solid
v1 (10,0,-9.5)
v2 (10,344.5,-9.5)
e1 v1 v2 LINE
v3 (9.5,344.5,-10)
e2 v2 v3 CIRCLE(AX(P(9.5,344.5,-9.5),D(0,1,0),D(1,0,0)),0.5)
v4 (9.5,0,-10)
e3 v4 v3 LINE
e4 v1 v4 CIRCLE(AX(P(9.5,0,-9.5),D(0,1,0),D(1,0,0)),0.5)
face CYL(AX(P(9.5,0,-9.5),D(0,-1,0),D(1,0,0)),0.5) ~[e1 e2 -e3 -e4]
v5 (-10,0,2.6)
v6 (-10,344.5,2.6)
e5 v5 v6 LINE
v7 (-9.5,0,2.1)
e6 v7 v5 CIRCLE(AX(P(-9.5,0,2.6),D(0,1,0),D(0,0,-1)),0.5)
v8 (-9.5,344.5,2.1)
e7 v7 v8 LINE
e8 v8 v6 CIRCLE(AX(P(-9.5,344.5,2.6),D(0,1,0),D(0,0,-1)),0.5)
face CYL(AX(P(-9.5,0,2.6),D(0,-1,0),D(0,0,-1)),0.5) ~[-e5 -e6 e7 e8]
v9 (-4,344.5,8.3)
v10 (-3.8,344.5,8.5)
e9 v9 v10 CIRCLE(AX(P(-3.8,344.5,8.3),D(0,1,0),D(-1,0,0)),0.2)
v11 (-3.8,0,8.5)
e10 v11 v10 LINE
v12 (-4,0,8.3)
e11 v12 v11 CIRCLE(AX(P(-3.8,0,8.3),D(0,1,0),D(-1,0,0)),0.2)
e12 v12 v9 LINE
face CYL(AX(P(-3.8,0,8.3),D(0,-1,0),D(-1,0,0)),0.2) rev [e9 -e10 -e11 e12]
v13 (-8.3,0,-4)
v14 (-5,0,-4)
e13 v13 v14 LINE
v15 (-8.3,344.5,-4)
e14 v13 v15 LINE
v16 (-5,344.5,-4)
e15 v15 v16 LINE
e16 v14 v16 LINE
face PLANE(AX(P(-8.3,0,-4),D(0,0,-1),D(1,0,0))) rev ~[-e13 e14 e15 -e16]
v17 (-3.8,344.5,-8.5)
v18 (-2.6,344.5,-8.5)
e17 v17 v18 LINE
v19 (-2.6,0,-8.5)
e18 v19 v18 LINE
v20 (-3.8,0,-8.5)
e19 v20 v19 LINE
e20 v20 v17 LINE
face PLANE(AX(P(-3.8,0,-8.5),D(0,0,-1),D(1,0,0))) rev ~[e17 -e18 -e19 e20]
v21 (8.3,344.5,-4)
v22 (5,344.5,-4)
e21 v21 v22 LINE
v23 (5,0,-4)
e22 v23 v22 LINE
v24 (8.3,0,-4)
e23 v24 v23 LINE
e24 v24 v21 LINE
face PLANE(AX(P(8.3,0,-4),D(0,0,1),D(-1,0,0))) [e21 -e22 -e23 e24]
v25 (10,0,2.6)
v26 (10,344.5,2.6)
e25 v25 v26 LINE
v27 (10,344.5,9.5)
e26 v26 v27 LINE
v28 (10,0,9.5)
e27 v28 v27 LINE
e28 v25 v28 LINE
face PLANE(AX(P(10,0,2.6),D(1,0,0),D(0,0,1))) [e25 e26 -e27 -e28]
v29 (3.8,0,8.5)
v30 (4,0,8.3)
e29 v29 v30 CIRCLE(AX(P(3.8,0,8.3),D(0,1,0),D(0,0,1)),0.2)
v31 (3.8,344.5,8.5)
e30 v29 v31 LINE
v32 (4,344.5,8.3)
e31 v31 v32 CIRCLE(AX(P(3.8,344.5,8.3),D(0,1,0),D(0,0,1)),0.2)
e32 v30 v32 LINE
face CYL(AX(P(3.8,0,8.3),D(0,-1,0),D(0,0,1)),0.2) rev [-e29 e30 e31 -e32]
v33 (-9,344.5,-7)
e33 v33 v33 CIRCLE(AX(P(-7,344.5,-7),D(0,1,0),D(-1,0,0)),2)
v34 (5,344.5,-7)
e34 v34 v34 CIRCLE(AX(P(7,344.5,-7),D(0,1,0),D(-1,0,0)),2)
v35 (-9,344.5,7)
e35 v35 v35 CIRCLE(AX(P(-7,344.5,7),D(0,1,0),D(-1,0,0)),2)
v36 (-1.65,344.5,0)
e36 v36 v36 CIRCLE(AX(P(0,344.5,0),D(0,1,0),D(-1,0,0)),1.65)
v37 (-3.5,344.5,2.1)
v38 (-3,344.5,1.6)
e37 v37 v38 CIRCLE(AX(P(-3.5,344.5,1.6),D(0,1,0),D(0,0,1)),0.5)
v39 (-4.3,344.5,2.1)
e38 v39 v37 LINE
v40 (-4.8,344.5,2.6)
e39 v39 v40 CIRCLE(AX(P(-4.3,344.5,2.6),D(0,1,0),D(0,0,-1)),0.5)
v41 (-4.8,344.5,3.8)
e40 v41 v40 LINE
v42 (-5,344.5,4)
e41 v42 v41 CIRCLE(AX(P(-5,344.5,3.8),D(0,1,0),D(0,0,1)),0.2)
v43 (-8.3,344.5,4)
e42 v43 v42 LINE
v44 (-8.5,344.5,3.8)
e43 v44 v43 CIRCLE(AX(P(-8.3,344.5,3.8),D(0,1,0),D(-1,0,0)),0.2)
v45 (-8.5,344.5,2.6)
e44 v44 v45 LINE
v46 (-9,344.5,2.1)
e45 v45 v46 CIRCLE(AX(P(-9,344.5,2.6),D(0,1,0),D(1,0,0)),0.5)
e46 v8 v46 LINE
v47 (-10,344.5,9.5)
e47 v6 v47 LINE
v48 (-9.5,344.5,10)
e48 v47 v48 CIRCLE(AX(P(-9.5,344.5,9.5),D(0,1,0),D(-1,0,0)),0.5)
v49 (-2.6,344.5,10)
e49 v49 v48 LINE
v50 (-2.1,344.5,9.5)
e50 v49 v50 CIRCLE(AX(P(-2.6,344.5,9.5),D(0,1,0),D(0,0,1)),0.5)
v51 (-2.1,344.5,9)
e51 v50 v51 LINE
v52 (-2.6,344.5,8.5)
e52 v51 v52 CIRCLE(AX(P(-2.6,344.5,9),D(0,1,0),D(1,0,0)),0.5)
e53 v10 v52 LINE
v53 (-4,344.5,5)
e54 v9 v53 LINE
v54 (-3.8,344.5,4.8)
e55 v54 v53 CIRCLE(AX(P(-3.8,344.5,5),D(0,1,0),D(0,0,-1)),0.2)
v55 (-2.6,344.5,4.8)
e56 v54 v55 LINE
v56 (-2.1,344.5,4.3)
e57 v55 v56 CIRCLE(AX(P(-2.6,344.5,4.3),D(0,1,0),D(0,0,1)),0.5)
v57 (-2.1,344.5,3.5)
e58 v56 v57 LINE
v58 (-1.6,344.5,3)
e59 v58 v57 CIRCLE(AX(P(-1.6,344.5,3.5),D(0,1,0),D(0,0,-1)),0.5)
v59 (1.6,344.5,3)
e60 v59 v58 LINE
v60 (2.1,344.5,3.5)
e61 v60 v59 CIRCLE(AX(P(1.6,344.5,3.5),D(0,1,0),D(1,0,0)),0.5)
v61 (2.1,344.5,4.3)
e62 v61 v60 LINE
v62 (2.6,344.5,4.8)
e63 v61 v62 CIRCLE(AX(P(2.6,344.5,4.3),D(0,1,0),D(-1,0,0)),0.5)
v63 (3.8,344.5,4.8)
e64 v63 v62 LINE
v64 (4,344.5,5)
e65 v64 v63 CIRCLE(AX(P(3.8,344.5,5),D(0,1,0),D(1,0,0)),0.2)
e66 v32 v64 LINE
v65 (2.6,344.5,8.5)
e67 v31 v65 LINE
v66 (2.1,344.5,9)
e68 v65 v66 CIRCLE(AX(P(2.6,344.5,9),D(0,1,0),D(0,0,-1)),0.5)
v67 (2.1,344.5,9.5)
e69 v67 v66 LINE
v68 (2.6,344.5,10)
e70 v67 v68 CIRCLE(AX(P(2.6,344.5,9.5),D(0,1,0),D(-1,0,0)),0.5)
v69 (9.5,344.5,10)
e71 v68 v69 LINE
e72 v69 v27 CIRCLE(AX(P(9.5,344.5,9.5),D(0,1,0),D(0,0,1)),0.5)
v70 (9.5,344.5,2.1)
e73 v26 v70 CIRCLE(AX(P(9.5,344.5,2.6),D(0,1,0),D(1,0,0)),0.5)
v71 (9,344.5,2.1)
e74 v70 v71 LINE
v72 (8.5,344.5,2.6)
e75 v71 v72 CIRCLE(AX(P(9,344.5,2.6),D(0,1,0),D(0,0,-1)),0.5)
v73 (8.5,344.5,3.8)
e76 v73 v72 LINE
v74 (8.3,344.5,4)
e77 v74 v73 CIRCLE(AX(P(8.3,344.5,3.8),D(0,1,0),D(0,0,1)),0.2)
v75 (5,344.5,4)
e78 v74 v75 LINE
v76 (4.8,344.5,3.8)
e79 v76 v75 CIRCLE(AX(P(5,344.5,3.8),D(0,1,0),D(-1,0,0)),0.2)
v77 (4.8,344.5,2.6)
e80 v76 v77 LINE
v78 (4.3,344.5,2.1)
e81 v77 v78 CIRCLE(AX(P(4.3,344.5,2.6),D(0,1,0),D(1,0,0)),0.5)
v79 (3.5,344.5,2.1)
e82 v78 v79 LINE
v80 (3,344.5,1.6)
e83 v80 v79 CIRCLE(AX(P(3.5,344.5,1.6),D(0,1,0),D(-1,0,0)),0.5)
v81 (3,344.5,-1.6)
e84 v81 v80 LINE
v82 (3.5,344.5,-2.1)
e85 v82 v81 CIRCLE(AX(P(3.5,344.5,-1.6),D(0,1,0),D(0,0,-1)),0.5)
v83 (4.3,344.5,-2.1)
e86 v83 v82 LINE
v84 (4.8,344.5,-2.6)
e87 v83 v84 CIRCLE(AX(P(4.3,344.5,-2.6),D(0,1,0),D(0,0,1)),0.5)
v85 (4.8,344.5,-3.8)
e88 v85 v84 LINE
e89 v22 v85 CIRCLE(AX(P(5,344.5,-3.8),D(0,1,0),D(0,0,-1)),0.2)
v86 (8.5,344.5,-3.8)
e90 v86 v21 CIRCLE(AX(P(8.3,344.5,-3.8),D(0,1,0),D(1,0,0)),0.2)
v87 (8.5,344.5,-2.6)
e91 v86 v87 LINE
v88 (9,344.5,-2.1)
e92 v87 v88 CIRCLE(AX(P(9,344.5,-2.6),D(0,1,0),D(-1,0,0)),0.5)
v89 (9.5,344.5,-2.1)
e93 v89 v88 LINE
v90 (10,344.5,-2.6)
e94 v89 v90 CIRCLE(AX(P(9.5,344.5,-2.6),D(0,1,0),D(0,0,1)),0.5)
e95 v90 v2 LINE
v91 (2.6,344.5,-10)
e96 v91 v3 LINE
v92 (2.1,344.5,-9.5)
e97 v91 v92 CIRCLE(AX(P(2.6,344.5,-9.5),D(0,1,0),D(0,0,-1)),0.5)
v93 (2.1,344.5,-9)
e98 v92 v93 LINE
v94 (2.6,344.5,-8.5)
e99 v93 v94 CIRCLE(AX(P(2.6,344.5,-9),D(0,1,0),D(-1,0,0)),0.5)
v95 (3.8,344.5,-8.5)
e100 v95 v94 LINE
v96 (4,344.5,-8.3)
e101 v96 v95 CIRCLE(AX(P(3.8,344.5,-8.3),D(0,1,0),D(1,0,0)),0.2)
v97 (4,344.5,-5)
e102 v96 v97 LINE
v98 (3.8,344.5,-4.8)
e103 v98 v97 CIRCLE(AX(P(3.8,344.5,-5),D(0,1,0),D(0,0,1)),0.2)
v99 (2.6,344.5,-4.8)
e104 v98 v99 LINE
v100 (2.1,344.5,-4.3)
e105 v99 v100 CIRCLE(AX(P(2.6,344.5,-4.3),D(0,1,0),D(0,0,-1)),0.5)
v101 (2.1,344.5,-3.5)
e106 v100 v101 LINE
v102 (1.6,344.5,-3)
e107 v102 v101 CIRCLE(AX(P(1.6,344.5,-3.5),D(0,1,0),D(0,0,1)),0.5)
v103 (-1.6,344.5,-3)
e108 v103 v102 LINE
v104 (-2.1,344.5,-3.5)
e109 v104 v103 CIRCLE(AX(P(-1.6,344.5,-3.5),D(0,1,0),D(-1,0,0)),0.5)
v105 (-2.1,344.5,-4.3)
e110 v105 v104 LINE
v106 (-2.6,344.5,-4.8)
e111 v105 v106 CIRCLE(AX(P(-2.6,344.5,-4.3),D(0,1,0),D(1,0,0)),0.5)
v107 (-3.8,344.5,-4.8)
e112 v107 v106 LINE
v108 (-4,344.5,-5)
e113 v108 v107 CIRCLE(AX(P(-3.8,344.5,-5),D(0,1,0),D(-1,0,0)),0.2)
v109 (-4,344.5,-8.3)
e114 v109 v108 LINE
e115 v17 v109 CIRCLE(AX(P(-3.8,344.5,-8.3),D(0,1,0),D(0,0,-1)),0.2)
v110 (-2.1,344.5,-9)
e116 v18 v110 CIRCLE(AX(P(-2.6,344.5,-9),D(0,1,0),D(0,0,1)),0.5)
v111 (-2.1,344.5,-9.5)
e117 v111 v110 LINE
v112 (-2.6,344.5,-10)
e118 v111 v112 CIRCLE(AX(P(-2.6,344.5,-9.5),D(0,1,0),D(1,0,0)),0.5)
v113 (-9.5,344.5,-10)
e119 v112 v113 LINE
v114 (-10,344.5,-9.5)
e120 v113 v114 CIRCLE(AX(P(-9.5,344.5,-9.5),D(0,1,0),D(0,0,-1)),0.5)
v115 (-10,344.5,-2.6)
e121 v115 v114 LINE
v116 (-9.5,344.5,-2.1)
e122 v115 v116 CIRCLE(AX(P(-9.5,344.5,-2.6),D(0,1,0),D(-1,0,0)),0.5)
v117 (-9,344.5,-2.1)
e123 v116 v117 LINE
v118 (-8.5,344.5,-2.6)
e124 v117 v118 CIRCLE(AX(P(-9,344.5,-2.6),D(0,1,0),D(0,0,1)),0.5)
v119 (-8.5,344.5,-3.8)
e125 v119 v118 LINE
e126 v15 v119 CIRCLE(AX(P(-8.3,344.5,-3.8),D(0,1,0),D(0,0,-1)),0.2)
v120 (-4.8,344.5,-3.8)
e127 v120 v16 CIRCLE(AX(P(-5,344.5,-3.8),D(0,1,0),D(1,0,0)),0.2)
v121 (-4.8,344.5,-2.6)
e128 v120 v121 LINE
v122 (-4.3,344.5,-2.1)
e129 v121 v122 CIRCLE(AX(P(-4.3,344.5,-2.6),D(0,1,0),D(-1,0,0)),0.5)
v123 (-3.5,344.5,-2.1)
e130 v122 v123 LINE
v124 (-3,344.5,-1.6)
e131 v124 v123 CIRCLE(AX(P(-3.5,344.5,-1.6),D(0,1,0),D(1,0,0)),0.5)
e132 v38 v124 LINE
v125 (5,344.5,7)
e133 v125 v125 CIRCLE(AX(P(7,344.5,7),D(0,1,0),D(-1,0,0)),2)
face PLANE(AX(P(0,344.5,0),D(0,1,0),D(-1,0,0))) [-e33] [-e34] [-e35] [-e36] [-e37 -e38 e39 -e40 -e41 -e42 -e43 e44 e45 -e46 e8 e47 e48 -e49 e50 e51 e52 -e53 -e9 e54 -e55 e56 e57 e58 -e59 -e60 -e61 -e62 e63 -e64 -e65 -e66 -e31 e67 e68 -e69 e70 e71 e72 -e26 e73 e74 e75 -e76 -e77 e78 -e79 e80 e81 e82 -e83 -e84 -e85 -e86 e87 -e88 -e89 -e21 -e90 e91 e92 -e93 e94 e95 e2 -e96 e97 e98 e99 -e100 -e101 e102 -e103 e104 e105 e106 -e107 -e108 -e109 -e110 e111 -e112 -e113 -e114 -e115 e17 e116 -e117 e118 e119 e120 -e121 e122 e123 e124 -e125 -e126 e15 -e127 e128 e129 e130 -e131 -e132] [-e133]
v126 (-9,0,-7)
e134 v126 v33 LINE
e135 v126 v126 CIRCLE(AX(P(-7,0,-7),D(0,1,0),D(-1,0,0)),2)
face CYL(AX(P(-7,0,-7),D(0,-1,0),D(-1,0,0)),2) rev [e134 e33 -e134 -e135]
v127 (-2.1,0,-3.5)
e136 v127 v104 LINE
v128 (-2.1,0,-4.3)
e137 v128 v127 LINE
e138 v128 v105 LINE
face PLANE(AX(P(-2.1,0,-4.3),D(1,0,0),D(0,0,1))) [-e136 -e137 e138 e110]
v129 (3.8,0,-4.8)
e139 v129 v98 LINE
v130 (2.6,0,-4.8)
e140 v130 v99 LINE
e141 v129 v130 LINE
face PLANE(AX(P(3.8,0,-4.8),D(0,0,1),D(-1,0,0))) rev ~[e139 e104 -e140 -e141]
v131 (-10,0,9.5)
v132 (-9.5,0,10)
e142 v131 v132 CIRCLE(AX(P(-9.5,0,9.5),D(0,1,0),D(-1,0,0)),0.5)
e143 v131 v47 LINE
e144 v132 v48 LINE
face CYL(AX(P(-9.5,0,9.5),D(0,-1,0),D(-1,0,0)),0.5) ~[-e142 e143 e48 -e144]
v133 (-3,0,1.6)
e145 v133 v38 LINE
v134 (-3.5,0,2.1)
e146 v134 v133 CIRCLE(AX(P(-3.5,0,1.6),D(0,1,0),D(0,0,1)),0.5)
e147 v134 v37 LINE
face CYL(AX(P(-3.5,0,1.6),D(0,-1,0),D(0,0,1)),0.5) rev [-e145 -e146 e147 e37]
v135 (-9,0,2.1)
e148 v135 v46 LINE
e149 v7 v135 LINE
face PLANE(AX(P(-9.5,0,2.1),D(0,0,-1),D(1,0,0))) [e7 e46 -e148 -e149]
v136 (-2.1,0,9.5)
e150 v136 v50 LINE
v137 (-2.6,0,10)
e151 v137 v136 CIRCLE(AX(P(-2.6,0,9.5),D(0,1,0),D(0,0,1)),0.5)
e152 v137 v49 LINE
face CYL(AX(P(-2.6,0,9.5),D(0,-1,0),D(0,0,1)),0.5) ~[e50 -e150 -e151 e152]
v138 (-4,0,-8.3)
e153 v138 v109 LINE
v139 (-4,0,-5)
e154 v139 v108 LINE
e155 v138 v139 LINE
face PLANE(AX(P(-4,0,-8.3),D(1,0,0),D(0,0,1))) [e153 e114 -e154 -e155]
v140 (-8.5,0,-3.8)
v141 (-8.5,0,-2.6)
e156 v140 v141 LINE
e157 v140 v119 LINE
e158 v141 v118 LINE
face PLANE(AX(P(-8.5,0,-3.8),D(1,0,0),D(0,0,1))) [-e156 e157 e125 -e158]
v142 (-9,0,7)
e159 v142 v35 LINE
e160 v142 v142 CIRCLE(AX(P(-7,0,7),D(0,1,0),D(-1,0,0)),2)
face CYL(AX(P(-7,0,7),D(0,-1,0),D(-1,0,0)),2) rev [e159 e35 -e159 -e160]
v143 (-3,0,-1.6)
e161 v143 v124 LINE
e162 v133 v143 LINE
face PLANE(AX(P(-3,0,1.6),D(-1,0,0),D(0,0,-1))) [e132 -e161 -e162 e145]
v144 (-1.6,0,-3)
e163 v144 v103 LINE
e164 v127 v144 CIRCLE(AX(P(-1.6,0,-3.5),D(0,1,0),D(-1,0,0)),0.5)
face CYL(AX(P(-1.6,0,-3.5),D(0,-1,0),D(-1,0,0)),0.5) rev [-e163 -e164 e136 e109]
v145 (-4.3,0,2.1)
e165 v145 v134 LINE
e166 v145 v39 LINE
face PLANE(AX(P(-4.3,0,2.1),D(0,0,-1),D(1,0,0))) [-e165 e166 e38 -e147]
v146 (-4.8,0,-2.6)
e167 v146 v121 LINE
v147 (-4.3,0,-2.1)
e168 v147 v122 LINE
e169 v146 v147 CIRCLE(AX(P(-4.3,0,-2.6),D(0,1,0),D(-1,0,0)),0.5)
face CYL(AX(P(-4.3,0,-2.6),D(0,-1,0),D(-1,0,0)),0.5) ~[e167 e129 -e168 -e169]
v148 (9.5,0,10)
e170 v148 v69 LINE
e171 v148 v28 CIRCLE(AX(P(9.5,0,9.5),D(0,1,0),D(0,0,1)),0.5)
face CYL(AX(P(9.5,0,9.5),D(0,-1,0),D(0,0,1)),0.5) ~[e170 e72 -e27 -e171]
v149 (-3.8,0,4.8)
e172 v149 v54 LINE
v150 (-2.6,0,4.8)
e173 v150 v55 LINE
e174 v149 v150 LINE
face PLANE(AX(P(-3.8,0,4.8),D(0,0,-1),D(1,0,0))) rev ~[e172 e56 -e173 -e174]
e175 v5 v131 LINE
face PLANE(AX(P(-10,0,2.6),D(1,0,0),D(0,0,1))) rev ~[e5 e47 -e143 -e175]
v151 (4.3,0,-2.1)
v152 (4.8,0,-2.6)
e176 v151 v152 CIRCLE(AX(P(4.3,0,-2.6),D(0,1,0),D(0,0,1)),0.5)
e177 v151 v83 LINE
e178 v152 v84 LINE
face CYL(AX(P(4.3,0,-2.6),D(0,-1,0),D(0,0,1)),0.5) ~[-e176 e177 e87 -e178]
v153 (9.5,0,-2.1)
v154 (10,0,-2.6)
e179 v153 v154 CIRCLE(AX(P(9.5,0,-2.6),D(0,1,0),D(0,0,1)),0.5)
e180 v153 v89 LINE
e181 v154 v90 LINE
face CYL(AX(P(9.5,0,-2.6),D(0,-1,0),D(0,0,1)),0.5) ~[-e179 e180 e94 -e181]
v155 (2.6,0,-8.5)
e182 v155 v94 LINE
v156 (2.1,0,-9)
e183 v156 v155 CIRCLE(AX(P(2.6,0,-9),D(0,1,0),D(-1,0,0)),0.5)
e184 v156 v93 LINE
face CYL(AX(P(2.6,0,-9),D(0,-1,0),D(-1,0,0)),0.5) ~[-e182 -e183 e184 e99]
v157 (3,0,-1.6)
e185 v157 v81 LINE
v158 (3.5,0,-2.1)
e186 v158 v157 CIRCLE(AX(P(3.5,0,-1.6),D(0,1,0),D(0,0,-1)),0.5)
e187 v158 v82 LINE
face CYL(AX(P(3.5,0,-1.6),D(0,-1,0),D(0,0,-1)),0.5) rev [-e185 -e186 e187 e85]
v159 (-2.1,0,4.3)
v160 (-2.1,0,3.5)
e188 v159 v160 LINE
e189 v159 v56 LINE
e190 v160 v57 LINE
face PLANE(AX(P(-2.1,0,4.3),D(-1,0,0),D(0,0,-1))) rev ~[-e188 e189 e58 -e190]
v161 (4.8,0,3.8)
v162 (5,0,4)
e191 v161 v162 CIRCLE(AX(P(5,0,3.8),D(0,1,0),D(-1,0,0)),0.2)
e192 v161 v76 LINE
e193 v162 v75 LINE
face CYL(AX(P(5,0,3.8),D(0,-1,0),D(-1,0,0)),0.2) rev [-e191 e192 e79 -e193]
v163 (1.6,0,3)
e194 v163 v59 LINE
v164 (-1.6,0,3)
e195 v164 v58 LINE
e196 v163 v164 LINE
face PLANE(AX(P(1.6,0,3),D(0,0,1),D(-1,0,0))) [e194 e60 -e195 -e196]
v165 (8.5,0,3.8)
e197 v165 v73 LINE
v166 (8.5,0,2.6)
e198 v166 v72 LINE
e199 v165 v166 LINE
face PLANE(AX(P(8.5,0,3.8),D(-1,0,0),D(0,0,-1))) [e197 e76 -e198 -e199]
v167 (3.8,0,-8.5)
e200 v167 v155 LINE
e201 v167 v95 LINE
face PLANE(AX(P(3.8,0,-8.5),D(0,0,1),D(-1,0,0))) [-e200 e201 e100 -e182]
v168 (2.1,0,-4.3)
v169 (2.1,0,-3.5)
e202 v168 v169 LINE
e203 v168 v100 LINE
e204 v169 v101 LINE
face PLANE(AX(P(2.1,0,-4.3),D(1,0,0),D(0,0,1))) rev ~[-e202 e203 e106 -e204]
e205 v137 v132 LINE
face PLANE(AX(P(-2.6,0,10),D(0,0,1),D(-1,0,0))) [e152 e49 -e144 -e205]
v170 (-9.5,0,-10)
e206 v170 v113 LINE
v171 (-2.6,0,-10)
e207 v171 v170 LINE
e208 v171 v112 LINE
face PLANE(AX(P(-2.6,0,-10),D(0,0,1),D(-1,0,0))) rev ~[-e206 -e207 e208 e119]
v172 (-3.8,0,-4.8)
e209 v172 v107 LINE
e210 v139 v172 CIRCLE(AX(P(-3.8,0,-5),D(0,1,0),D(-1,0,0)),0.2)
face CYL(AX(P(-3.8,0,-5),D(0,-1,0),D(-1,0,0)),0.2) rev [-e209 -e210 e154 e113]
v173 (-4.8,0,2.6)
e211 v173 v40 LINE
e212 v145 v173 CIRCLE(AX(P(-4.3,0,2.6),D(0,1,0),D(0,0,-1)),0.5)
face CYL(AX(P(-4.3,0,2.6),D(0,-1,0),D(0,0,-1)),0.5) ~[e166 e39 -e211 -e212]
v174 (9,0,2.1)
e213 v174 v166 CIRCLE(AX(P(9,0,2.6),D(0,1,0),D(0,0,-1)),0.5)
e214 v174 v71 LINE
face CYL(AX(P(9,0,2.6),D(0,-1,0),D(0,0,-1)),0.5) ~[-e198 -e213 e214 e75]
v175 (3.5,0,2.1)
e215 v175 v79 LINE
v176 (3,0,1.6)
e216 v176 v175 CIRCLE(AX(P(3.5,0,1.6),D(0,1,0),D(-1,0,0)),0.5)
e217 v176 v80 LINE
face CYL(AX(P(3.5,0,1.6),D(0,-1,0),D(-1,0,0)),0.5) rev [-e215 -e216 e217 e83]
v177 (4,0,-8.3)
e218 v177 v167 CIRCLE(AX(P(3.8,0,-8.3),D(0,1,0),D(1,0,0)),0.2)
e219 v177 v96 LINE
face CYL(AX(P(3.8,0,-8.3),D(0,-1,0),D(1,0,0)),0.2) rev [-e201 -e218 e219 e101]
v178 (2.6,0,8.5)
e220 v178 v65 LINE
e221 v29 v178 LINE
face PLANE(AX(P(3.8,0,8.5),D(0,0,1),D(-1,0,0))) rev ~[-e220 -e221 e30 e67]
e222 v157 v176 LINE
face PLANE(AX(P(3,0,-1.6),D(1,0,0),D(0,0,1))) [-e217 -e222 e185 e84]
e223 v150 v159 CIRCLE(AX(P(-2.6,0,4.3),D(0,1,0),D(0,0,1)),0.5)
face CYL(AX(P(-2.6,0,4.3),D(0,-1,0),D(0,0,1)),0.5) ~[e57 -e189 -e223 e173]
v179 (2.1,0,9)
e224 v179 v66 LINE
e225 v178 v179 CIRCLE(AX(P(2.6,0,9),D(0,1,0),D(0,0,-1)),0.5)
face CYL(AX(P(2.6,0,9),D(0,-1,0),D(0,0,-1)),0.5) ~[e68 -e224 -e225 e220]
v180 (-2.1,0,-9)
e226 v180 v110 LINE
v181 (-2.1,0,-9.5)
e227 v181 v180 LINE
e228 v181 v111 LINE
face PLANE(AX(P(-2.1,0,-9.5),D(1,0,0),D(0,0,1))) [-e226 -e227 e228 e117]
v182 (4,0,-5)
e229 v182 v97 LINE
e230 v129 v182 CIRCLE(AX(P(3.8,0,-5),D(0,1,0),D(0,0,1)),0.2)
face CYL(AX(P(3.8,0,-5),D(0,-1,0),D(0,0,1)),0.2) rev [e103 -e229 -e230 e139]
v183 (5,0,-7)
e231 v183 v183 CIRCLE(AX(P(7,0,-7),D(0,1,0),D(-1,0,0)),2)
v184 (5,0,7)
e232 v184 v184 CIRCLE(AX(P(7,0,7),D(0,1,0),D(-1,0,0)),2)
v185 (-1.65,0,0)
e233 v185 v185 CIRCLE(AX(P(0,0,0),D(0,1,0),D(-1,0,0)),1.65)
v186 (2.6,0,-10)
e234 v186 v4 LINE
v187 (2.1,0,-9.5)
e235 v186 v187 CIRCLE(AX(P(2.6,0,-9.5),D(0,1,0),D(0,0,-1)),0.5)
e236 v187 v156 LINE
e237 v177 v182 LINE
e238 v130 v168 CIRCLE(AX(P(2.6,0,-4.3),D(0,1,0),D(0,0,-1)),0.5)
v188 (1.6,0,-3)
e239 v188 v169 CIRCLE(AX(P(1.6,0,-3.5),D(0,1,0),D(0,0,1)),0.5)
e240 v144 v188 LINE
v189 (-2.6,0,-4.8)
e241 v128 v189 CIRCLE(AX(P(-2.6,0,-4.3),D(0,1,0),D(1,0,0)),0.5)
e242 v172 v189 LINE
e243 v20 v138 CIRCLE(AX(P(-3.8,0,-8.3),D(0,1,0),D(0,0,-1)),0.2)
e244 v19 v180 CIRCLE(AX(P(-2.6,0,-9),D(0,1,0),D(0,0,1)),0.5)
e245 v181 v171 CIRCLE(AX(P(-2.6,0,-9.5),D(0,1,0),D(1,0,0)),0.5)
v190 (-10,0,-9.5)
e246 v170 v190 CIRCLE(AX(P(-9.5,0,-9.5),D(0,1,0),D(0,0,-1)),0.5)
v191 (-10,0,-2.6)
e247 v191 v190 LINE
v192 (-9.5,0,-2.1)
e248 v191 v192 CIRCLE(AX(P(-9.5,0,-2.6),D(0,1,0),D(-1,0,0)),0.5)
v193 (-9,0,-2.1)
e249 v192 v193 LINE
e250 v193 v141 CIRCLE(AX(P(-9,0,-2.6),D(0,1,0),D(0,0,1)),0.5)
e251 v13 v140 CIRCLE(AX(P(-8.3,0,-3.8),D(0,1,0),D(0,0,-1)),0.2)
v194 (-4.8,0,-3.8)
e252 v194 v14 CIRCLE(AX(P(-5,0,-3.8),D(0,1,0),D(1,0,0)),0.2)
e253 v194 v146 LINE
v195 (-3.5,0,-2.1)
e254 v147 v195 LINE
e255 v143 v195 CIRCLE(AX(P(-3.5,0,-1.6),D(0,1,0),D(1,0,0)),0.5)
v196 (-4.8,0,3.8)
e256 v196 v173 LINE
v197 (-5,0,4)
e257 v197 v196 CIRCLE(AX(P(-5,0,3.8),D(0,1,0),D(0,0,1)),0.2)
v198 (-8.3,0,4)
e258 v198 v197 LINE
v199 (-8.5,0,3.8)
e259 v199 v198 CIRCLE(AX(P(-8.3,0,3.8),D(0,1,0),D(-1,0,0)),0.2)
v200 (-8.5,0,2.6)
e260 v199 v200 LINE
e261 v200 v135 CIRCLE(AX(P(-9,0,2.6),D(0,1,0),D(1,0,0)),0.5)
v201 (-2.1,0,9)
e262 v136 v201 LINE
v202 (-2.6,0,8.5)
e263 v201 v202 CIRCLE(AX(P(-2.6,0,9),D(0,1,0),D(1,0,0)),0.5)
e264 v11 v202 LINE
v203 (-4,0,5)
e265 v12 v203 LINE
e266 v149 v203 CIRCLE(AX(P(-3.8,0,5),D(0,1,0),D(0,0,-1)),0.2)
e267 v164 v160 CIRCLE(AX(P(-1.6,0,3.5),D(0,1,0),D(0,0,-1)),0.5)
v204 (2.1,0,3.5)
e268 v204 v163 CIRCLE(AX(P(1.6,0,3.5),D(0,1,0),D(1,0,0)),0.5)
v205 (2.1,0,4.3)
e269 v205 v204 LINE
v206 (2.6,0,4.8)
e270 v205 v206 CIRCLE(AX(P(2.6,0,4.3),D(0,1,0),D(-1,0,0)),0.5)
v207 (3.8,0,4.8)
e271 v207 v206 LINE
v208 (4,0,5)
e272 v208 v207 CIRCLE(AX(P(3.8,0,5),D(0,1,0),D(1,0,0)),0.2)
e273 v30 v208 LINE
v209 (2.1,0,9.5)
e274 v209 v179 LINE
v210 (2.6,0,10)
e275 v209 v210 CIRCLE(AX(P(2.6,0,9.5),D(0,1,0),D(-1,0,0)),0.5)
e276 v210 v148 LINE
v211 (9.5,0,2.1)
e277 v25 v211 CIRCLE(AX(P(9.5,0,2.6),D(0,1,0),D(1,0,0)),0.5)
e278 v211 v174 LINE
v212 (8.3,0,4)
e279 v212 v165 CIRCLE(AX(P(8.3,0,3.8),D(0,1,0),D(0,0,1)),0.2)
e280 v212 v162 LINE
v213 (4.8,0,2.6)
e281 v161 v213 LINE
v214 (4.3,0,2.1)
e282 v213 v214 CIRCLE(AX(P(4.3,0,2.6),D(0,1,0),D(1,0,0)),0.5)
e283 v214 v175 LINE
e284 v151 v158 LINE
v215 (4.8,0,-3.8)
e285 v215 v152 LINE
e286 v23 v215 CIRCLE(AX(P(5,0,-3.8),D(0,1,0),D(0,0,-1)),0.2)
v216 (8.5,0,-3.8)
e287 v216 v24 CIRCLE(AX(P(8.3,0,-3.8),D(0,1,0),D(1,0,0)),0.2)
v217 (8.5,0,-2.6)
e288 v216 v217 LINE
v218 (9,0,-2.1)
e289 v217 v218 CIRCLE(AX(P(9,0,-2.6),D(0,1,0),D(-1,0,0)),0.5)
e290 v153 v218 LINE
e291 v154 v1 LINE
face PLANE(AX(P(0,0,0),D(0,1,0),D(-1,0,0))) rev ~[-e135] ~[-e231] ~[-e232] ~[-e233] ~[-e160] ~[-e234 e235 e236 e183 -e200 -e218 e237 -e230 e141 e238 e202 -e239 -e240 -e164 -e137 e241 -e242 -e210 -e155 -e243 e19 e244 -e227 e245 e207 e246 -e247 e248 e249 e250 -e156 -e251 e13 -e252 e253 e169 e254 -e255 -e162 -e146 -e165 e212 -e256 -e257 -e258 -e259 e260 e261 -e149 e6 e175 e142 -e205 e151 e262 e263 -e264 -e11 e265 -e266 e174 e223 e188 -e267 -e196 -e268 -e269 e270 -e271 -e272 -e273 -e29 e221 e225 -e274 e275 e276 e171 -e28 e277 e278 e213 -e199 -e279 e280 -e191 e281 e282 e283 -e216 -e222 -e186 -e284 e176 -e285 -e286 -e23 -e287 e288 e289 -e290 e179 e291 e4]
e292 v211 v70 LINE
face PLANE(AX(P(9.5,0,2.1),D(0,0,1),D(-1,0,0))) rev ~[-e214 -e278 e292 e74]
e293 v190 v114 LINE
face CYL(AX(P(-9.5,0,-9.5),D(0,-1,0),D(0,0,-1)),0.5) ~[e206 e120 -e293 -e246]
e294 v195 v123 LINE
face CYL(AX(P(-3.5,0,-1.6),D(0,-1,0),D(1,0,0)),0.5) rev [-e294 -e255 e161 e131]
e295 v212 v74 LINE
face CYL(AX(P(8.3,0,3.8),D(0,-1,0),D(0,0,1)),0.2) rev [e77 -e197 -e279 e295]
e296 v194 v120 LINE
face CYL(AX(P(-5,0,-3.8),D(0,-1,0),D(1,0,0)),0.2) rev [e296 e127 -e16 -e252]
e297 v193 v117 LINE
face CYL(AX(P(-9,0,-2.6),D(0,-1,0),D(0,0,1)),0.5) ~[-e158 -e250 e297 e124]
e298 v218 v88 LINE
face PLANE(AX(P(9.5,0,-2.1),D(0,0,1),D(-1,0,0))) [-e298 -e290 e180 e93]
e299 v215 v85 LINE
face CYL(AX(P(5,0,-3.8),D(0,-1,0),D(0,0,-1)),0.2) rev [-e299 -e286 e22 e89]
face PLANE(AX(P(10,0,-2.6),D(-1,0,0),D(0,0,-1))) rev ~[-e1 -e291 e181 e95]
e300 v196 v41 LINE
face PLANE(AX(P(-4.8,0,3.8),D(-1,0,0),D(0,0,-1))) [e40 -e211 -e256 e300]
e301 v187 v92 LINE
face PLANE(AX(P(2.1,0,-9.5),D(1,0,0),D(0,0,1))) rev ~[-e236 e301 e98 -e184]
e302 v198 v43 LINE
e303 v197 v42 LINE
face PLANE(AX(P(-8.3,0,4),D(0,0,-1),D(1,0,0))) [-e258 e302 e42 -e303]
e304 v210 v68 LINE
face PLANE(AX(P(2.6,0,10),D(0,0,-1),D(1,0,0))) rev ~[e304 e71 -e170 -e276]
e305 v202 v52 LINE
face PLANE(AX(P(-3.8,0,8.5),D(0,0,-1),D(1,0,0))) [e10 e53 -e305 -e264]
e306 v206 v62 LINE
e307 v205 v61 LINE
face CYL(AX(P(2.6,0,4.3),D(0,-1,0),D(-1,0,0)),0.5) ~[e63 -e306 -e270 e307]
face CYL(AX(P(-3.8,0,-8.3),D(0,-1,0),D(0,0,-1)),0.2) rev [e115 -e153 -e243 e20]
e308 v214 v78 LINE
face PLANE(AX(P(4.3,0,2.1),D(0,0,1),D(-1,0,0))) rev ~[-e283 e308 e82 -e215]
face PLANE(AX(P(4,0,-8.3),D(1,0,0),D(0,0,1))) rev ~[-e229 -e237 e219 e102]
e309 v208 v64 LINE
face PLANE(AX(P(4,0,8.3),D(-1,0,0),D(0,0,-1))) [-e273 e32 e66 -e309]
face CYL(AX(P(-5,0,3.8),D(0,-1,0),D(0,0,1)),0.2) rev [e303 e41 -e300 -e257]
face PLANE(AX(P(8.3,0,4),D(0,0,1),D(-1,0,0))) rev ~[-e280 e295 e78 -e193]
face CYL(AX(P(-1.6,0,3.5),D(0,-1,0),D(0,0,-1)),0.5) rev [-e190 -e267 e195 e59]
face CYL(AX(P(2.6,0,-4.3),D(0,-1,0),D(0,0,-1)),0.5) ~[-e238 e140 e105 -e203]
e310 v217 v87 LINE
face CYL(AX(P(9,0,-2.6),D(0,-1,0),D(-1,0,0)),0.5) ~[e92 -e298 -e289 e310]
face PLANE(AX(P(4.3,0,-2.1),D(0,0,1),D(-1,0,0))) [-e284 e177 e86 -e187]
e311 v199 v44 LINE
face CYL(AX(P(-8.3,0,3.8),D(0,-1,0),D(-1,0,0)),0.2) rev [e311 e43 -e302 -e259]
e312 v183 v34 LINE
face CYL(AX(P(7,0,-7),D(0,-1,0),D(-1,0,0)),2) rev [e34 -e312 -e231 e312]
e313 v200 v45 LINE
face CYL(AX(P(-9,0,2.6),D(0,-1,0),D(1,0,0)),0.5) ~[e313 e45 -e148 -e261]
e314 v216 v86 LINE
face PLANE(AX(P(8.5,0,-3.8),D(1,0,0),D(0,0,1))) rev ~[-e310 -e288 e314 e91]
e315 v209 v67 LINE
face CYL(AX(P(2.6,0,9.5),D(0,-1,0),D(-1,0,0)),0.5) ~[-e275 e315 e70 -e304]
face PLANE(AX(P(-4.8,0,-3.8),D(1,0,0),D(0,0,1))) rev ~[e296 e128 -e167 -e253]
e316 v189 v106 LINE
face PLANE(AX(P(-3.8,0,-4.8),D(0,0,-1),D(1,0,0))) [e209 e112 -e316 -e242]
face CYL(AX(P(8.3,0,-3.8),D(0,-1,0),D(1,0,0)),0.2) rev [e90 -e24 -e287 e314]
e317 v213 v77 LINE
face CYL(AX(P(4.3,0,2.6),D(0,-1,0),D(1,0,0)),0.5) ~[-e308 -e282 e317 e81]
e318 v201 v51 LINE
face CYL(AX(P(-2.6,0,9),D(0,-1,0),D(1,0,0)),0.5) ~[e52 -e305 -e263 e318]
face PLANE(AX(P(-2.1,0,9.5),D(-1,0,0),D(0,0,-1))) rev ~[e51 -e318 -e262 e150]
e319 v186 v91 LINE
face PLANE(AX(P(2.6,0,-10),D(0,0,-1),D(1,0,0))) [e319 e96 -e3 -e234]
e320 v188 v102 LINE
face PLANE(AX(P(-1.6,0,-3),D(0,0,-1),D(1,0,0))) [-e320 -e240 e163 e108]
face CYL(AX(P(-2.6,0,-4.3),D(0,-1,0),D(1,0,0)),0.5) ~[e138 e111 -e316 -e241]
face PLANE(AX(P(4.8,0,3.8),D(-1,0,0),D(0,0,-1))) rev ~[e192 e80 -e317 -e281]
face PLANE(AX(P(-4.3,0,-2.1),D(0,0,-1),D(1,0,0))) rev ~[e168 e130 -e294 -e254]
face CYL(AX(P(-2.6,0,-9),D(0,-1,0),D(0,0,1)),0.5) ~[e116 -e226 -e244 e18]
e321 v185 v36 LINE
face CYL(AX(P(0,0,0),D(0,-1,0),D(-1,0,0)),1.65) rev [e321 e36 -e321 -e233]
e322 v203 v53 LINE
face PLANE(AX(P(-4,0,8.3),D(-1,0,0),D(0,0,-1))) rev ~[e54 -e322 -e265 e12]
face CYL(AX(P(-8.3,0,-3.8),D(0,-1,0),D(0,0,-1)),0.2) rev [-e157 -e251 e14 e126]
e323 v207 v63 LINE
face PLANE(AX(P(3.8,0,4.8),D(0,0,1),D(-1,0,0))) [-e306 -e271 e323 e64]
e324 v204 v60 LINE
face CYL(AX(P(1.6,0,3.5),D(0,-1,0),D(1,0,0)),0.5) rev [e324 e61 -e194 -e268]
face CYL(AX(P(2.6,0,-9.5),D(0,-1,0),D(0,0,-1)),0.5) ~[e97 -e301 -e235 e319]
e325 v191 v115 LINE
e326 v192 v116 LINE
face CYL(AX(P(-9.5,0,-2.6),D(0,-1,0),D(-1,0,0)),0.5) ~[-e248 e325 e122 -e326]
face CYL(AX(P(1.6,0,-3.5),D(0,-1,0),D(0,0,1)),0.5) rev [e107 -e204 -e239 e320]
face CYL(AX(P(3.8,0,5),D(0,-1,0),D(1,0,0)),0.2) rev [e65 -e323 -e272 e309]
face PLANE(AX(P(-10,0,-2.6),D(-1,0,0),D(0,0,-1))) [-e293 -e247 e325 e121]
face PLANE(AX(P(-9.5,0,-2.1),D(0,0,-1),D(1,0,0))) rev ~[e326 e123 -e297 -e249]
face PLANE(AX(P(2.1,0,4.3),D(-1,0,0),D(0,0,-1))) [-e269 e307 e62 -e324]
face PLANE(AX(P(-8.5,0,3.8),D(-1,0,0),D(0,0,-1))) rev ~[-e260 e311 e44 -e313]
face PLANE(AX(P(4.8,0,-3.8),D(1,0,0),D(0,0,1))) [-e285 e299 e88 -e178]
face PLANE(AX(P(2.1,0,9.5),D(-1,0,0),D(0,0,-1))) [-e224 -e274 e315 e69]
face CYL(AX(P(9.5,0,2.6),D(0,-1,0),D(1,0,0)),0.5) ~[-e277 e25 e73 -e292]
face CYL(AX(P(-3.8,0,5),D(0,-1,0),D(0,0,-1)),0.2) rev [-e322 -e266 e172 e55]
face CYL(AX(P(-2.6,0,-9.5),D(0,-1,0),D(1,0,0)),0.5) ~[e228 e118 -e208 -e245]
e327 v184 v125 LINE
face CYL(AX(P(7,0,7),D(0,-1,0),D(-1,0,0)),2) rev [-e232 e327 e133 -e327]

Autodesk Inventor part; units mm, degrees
ref_plane "YZ Plane" through (0, 0, 0) normal (1, 0, 0) x (0, 1, 0)
ref_plane "開始平面" through (0, 0, 0) normal (0, 1, 0) x (-1, 0, 0)
ref_plane "終了平面" through (0, 344.5, 0) normal (0, 1, 0) x (-1, 0, 0)
sketch "スケッチ" plane through (0, 0, 0) normal (0, 1, 0) x (-1, 0, 0)
  line L0 (8.5, -3.8) -> (8.5, -2.6)
  line L1 (4, -8.3) -> (4, -5)
  circle A0 centre (7, -7) radius 2
  line L2 (10, -2.6) -> (10, -9.5)
  line L3 (2.6, -10) -> (9.5, -10)
  line L4 (2.1, -9.5) -> (2.1, -9)
  line L5 (8.5, -2.1) -> (8.5, -4)
  line L6 (3.8, -4.8) -> (2.6, -4.8)
  line L7 (4.8, -3.8) -> (4.8, -2.6)
  arc A1 (2.1, -4.3) -> (2.6, -4.8) centre (2.6, -4.3) ccw
  arc A2 (2.6, -8.5) -> (2.1, -9) centre (2.6, -9) ccw
  arc A3 (3.8, -8.5) -> (4, -8.3) centre (3.8, -8.3) ccw
  arc A4 (4, -5) -> (3.8, -4.8) centre (3.8, -5) ccw
  arc A5 (2.1, -3.5) -> (1.6, -3) centre (1.6, -3.5) ccw
  arc A6 (2.1, -9.5) -> (2.6, -10) centre (2.6, -9.5) ccw
  arc A7 (9.5, -10) -> (10, -9.5) centre (9.5, -9.5) ccw
  arc A8 (10, -2.6) -> (9.5, -2.1) centre (9.5, -2.6) ccw
  arc A9 (9, -2.1) -> (8.5, -2.6) centre (9, -2.6) ccw
  arc A10 (8.3, -4) -> (8.5, -3.8) centre (8.3, -3.8) ccw
  arc A11 (4.8, -3.8) -> (5, -4) centre (5, -3.8) ccw
  line L8 (4.3, -2.1) -> (3.5, -2.1)
  arc A12 (4.8, -2.6) -> (4.3, -2.1) centre (4.3, -2.6) ccw
  arc A13 (3, -1.6) -> (3.5, -2.1) centre (3.5, -1.6) ccw
  line L9 (2.1, -4.3) -> (2.1, -3.5)
  line L10 (3.8, -8.5) -> (2.6, -8.5)
  line L11 (9.5, -2.1) -> (9, -2.1)
  line L12 (8.3, -4) -> (5, -4)
  circle A14 centre (0, 0) radius 1.65
  arc A15 (8.5, 2.6) -> (9, 2.1) centre (9, 2.6) ccw
  line L13 (8.5, 3.8) -> (8.5, 2.6)
  arc A16 (8.5, 3.8) -> (8.3, 4) centre (8.3, 3.8) ccw
  line L14 (8.3, 4) -> (5, 4)
  line L15 (10, 2.6) -> (10, 9.5)
  arc A17 (10, 9.5) -> (9.5, 10) centre (9.5, 9.5) ccw
  circle A18 centre (7, 7) radius 2
  line L16 (4, 8.3) -> (4, 5)
  line L17 (2.6, 10) -> (9.5, 10)
  line L18 (9.5, 2.1) -> (9, 2.1)
  arc A19 (9.5, 2.1) -> (10, 2.6) centre (9.5, 2.6) ccw
  line L19 (3.8, 8.5) -> (2.6, 8.5)
  line L20 (4.8, 3.8) -> (4.8, 2.6)
  arc A20 (4.3, 2.1) -> (4.8, 2.6) centre (4.3, 2.6) ccw
  line L21 (2.1, 8.5) -> (4, 8.5)
  arc A21 (4, 8.3) -> (3.8, 8.5) centre (3.8, 8.3) ccw
  arc A22 (2.1, 9) -> (2.6, 8.5) centre (2.6, 9) ccw
  arc A23 (2.6, 10) -> (2.1, 9.5) centre (2.6, 9.5) ccw
  line L22 (2.1, 9.5) -> (2.1, 9)
  arc A24 (1.6, 3) -> (2.1, 3.5) centre (1.6, 3.5) ccw
  line L23 (3.8, 4.8) -> (2.6, 4.8)
  arc A25 (5, 4) -> (4.8, 3.8) centre (5, 3.8) ccw
  arc A26 (3.8, 4.8) -> (4, 5) centre (3.8, 5) ccw
  line L24 (4.3, 2.1) -> (3.5, 2.1)
  arc A27 (2.6, 4.8) -> (2.1, 4.3) centre (2.6, 4.3) ccw
  line L25 (2.1, 4.3) -> (2.1, 3.5)
  arc A28 (3.5, 2.1) -> (3, 1.6) centre (3.5, 1.6) ccw
  arc A29 (-2.6, 8.5) -> (-2.1, 9) centre (-2.6, 9) ccw
  line L26 (-3.8, 8.5) -> (-2.6, 8.5)
  arc A30 (-3.8, 8.5) -> (-4, 8.3) centre (-3.8, 8.3) ccw
  line L27 (-4, 8.3) -> (-4, 5)
  line L28 (-2.6, 10) -> (-9.5, 10)
  arc A31 (-9.5, 10) -> (-10, 9.5) centre (-9.5, 9.5) ccw
  circle A32 centre (-7, 7) radius 2
  line L29 (-8.3, 4) -> (-5, 4)
  line L30 (-10, 2.6) -> (-10, 9.5)
  line L31 (-2.1, 9.5) -> (-2.1, 9)
  arc A33 (-2.1, 9.5) -> (-2.6, 10) centre (-2.6, 9.5) ccw
  line L32 (-8.5, 3.8) -> (-8.5, 2.6)
  line L33 (-3.8, 4.8) -> (-2.6, 4.8)
  arc A34 (-2.1, 4.3) -> (-2.6, 4.8) centre (-2.6, 4.3) ccw
  line L34 (-8.5, 2.1) -> (-8.5, 4)
  arc A35 (-8.3, 4) -> (-8.5, 3.8) centre (-8.3, 3.8) ccw
  arc A36 (-9, 2.1) -> (-8.5, 2.6) centre (-9, 2.6) ccw
  arc A37 (-10, 2.6) -> (-9.5, 2.1) centre (-9.5, 2.6) ccw
  line L35 (-9.5, 2.1) -> (-9, 2.1)
  arc A38 (-3, 1.6) -> (-3.5, 2.1) centre (-3.5, 1.6) ccw
  line L36 (-4.8, 3.8) -> (-4.8, 2.6)
  arc A39 (-4, 5) -> (-3.8, 4.8) centre (-3.8, 5) ccw
  arc A40 (-4.8, 3.8) -> (-5, 4) centre (-5, 3.8) ccw
  line L37 (-2.1, 4.3) -> (-2.1, 3.5)
  arc A41 (-4.8, 2.6) -> (-4.3, 2.1) centre (-4.3, 2.6) ccw
  line L38 (-4.3, 2.1) -> (-3.5, 2.1)
  arc A42 (-2.1, 3.5) -> (-1.6, 3) centre (-1.6, 3.5) ccw
  arc A43 (-8.5, -2.6) -> (-9, -2.1) centre (-9, -2.6) ccw
  line L39 (-8.5, -3.8) -> (-8.5, -2.6)
  arc A44 (-8.5, -3.8) -> (-8.3, -4) centre (-8.3, -3.8) ccw
  line L40 (-8.3, -4) -> (-5, -4)
  line L41 (-10, -2.6) -> (-10, -9.5)
  arc A45 (-10, -9.5) -> (-9.5, -10) centre (-9.5, -9.5) ccw
  circle A46 centre (-7, -7) radius 2
  line L42 (-4, -8.3) -> (-4, -5)
  line L43 (-2.6, -10) -> (-9.5, -10)
  line L44 (-9.5, -2.1) -> (-9, -2.1)
  arc A47 (-9.5, -2.1) -> (-10, -2.6) centre (-9.5, -2.6) ccw
  line L45 (-3.8, -8.5) -> (-2.6, -8.5)
  line L46 (-4.8, -3.8) -> (-4.8, -2.6)
  arc A48 (-4.3, -2.1) -> (-4.8, -2.6) centre (-4.3, -2.6) ccw
  line L47 (-2.1, -8.5) -> (-4, -8.5)
  arc A49 (-4, -8.3) -> (-3.8, -8.5) centre (-3.8, -8.3) ccw
  arc A50 (-2.1, -9) -> (-2.6, -8.5) centre (-2.6, -9) ccw
  arc A51 (-2.6, -10) -> (-2.1, -9.5) centre (-2.6, -9.5) ccw
  line L48 (-2.1, -9.5) -> (-2.1, -9)
  arc A52 (-1.6, -3) -> (-2.1, -3.5) centre (-1.6, -3.5) ccw
  line L49 (-3.8, -4.8) -> (-2.6, -4.8)
  arc A53 (-5, -4) -> (-4.8, -3.8) centre (-5, -3.8) ccw
  arc A54 (-3.8, -4.8) -> (-4, -5) centre (-3.8, -5) ccw
  line L50 (-4.3, -2.1) -> (-3.5, -2.1)
  arc A55 (-2.6, -4.8) -> (-2.1, -4.3) centre (-2.6, -4.3) ccw
  line L51 (-2.1, -4.3) -> (-2.1, -3.5)
  arc A56 (-3.5, -2.1) -> (-3, -1.6) centre (-3.5, -1.6) ccw
  line L52 (1.6, -3) -> (-1.6, -3)
  line L53 (-3, -1.6) -> (-3, 1.6)
  line L54 (-1.6, 3) -> (1.6, 3)
  line L55 (3, 1.6) -> (3, -1.6)
  point P0 (2.1, -10)
  point P1 (10, 2.1)
  point P2 (-2.1, 10)
  point P3 (-10, -2.1)
  dimension "d12" = 4
  dimension "d14" = 3.7
  dimension "d16" = 0.5
  dimension "d17" = 0.5
  dimension "d18" = 0.2
  dimension "d19" = 0.5
  dimension "d20" = 0.5
  dimension "d24" = 0.5
  dimension "d25" = 0.2
  dimension "d28" = 0.5
  dimension "d31" = 1.5
  dimension "d36" = 3.7
  dimension "d37" = 1.5
  dimension "d58" = 3.3
  dimension "d65" = 10
  dimension "d67" = 2.1
  dimension "d68" = 2.1
  dimension "d69" = 1.9
  dimension "d70" = 7
  dimension "d72" = 2.1
  dimension "d73" = 2.1
  dimension "d74" = 1.9
  dimension "d75" = 7
  dimension "d76" = 10
  dimension "d80" = 360
  dimension "d82" = 3
extrude "ボディ" add sketch "スケッチ" along normal up to surface (344.5 mm away) from surface at 0
equation "\"Length\" = 344.5"
equation "\"G_OFFSET_START\" = 0"
equation "\"G_OFFSET_END\" = 0"
equation "\"d86\" = Length + G_OFFSET_END"
equation "\"G_L\" = d90"
equation "\"d90\" = 330"
properties part number "s340" material "アルミニウム 6061"
